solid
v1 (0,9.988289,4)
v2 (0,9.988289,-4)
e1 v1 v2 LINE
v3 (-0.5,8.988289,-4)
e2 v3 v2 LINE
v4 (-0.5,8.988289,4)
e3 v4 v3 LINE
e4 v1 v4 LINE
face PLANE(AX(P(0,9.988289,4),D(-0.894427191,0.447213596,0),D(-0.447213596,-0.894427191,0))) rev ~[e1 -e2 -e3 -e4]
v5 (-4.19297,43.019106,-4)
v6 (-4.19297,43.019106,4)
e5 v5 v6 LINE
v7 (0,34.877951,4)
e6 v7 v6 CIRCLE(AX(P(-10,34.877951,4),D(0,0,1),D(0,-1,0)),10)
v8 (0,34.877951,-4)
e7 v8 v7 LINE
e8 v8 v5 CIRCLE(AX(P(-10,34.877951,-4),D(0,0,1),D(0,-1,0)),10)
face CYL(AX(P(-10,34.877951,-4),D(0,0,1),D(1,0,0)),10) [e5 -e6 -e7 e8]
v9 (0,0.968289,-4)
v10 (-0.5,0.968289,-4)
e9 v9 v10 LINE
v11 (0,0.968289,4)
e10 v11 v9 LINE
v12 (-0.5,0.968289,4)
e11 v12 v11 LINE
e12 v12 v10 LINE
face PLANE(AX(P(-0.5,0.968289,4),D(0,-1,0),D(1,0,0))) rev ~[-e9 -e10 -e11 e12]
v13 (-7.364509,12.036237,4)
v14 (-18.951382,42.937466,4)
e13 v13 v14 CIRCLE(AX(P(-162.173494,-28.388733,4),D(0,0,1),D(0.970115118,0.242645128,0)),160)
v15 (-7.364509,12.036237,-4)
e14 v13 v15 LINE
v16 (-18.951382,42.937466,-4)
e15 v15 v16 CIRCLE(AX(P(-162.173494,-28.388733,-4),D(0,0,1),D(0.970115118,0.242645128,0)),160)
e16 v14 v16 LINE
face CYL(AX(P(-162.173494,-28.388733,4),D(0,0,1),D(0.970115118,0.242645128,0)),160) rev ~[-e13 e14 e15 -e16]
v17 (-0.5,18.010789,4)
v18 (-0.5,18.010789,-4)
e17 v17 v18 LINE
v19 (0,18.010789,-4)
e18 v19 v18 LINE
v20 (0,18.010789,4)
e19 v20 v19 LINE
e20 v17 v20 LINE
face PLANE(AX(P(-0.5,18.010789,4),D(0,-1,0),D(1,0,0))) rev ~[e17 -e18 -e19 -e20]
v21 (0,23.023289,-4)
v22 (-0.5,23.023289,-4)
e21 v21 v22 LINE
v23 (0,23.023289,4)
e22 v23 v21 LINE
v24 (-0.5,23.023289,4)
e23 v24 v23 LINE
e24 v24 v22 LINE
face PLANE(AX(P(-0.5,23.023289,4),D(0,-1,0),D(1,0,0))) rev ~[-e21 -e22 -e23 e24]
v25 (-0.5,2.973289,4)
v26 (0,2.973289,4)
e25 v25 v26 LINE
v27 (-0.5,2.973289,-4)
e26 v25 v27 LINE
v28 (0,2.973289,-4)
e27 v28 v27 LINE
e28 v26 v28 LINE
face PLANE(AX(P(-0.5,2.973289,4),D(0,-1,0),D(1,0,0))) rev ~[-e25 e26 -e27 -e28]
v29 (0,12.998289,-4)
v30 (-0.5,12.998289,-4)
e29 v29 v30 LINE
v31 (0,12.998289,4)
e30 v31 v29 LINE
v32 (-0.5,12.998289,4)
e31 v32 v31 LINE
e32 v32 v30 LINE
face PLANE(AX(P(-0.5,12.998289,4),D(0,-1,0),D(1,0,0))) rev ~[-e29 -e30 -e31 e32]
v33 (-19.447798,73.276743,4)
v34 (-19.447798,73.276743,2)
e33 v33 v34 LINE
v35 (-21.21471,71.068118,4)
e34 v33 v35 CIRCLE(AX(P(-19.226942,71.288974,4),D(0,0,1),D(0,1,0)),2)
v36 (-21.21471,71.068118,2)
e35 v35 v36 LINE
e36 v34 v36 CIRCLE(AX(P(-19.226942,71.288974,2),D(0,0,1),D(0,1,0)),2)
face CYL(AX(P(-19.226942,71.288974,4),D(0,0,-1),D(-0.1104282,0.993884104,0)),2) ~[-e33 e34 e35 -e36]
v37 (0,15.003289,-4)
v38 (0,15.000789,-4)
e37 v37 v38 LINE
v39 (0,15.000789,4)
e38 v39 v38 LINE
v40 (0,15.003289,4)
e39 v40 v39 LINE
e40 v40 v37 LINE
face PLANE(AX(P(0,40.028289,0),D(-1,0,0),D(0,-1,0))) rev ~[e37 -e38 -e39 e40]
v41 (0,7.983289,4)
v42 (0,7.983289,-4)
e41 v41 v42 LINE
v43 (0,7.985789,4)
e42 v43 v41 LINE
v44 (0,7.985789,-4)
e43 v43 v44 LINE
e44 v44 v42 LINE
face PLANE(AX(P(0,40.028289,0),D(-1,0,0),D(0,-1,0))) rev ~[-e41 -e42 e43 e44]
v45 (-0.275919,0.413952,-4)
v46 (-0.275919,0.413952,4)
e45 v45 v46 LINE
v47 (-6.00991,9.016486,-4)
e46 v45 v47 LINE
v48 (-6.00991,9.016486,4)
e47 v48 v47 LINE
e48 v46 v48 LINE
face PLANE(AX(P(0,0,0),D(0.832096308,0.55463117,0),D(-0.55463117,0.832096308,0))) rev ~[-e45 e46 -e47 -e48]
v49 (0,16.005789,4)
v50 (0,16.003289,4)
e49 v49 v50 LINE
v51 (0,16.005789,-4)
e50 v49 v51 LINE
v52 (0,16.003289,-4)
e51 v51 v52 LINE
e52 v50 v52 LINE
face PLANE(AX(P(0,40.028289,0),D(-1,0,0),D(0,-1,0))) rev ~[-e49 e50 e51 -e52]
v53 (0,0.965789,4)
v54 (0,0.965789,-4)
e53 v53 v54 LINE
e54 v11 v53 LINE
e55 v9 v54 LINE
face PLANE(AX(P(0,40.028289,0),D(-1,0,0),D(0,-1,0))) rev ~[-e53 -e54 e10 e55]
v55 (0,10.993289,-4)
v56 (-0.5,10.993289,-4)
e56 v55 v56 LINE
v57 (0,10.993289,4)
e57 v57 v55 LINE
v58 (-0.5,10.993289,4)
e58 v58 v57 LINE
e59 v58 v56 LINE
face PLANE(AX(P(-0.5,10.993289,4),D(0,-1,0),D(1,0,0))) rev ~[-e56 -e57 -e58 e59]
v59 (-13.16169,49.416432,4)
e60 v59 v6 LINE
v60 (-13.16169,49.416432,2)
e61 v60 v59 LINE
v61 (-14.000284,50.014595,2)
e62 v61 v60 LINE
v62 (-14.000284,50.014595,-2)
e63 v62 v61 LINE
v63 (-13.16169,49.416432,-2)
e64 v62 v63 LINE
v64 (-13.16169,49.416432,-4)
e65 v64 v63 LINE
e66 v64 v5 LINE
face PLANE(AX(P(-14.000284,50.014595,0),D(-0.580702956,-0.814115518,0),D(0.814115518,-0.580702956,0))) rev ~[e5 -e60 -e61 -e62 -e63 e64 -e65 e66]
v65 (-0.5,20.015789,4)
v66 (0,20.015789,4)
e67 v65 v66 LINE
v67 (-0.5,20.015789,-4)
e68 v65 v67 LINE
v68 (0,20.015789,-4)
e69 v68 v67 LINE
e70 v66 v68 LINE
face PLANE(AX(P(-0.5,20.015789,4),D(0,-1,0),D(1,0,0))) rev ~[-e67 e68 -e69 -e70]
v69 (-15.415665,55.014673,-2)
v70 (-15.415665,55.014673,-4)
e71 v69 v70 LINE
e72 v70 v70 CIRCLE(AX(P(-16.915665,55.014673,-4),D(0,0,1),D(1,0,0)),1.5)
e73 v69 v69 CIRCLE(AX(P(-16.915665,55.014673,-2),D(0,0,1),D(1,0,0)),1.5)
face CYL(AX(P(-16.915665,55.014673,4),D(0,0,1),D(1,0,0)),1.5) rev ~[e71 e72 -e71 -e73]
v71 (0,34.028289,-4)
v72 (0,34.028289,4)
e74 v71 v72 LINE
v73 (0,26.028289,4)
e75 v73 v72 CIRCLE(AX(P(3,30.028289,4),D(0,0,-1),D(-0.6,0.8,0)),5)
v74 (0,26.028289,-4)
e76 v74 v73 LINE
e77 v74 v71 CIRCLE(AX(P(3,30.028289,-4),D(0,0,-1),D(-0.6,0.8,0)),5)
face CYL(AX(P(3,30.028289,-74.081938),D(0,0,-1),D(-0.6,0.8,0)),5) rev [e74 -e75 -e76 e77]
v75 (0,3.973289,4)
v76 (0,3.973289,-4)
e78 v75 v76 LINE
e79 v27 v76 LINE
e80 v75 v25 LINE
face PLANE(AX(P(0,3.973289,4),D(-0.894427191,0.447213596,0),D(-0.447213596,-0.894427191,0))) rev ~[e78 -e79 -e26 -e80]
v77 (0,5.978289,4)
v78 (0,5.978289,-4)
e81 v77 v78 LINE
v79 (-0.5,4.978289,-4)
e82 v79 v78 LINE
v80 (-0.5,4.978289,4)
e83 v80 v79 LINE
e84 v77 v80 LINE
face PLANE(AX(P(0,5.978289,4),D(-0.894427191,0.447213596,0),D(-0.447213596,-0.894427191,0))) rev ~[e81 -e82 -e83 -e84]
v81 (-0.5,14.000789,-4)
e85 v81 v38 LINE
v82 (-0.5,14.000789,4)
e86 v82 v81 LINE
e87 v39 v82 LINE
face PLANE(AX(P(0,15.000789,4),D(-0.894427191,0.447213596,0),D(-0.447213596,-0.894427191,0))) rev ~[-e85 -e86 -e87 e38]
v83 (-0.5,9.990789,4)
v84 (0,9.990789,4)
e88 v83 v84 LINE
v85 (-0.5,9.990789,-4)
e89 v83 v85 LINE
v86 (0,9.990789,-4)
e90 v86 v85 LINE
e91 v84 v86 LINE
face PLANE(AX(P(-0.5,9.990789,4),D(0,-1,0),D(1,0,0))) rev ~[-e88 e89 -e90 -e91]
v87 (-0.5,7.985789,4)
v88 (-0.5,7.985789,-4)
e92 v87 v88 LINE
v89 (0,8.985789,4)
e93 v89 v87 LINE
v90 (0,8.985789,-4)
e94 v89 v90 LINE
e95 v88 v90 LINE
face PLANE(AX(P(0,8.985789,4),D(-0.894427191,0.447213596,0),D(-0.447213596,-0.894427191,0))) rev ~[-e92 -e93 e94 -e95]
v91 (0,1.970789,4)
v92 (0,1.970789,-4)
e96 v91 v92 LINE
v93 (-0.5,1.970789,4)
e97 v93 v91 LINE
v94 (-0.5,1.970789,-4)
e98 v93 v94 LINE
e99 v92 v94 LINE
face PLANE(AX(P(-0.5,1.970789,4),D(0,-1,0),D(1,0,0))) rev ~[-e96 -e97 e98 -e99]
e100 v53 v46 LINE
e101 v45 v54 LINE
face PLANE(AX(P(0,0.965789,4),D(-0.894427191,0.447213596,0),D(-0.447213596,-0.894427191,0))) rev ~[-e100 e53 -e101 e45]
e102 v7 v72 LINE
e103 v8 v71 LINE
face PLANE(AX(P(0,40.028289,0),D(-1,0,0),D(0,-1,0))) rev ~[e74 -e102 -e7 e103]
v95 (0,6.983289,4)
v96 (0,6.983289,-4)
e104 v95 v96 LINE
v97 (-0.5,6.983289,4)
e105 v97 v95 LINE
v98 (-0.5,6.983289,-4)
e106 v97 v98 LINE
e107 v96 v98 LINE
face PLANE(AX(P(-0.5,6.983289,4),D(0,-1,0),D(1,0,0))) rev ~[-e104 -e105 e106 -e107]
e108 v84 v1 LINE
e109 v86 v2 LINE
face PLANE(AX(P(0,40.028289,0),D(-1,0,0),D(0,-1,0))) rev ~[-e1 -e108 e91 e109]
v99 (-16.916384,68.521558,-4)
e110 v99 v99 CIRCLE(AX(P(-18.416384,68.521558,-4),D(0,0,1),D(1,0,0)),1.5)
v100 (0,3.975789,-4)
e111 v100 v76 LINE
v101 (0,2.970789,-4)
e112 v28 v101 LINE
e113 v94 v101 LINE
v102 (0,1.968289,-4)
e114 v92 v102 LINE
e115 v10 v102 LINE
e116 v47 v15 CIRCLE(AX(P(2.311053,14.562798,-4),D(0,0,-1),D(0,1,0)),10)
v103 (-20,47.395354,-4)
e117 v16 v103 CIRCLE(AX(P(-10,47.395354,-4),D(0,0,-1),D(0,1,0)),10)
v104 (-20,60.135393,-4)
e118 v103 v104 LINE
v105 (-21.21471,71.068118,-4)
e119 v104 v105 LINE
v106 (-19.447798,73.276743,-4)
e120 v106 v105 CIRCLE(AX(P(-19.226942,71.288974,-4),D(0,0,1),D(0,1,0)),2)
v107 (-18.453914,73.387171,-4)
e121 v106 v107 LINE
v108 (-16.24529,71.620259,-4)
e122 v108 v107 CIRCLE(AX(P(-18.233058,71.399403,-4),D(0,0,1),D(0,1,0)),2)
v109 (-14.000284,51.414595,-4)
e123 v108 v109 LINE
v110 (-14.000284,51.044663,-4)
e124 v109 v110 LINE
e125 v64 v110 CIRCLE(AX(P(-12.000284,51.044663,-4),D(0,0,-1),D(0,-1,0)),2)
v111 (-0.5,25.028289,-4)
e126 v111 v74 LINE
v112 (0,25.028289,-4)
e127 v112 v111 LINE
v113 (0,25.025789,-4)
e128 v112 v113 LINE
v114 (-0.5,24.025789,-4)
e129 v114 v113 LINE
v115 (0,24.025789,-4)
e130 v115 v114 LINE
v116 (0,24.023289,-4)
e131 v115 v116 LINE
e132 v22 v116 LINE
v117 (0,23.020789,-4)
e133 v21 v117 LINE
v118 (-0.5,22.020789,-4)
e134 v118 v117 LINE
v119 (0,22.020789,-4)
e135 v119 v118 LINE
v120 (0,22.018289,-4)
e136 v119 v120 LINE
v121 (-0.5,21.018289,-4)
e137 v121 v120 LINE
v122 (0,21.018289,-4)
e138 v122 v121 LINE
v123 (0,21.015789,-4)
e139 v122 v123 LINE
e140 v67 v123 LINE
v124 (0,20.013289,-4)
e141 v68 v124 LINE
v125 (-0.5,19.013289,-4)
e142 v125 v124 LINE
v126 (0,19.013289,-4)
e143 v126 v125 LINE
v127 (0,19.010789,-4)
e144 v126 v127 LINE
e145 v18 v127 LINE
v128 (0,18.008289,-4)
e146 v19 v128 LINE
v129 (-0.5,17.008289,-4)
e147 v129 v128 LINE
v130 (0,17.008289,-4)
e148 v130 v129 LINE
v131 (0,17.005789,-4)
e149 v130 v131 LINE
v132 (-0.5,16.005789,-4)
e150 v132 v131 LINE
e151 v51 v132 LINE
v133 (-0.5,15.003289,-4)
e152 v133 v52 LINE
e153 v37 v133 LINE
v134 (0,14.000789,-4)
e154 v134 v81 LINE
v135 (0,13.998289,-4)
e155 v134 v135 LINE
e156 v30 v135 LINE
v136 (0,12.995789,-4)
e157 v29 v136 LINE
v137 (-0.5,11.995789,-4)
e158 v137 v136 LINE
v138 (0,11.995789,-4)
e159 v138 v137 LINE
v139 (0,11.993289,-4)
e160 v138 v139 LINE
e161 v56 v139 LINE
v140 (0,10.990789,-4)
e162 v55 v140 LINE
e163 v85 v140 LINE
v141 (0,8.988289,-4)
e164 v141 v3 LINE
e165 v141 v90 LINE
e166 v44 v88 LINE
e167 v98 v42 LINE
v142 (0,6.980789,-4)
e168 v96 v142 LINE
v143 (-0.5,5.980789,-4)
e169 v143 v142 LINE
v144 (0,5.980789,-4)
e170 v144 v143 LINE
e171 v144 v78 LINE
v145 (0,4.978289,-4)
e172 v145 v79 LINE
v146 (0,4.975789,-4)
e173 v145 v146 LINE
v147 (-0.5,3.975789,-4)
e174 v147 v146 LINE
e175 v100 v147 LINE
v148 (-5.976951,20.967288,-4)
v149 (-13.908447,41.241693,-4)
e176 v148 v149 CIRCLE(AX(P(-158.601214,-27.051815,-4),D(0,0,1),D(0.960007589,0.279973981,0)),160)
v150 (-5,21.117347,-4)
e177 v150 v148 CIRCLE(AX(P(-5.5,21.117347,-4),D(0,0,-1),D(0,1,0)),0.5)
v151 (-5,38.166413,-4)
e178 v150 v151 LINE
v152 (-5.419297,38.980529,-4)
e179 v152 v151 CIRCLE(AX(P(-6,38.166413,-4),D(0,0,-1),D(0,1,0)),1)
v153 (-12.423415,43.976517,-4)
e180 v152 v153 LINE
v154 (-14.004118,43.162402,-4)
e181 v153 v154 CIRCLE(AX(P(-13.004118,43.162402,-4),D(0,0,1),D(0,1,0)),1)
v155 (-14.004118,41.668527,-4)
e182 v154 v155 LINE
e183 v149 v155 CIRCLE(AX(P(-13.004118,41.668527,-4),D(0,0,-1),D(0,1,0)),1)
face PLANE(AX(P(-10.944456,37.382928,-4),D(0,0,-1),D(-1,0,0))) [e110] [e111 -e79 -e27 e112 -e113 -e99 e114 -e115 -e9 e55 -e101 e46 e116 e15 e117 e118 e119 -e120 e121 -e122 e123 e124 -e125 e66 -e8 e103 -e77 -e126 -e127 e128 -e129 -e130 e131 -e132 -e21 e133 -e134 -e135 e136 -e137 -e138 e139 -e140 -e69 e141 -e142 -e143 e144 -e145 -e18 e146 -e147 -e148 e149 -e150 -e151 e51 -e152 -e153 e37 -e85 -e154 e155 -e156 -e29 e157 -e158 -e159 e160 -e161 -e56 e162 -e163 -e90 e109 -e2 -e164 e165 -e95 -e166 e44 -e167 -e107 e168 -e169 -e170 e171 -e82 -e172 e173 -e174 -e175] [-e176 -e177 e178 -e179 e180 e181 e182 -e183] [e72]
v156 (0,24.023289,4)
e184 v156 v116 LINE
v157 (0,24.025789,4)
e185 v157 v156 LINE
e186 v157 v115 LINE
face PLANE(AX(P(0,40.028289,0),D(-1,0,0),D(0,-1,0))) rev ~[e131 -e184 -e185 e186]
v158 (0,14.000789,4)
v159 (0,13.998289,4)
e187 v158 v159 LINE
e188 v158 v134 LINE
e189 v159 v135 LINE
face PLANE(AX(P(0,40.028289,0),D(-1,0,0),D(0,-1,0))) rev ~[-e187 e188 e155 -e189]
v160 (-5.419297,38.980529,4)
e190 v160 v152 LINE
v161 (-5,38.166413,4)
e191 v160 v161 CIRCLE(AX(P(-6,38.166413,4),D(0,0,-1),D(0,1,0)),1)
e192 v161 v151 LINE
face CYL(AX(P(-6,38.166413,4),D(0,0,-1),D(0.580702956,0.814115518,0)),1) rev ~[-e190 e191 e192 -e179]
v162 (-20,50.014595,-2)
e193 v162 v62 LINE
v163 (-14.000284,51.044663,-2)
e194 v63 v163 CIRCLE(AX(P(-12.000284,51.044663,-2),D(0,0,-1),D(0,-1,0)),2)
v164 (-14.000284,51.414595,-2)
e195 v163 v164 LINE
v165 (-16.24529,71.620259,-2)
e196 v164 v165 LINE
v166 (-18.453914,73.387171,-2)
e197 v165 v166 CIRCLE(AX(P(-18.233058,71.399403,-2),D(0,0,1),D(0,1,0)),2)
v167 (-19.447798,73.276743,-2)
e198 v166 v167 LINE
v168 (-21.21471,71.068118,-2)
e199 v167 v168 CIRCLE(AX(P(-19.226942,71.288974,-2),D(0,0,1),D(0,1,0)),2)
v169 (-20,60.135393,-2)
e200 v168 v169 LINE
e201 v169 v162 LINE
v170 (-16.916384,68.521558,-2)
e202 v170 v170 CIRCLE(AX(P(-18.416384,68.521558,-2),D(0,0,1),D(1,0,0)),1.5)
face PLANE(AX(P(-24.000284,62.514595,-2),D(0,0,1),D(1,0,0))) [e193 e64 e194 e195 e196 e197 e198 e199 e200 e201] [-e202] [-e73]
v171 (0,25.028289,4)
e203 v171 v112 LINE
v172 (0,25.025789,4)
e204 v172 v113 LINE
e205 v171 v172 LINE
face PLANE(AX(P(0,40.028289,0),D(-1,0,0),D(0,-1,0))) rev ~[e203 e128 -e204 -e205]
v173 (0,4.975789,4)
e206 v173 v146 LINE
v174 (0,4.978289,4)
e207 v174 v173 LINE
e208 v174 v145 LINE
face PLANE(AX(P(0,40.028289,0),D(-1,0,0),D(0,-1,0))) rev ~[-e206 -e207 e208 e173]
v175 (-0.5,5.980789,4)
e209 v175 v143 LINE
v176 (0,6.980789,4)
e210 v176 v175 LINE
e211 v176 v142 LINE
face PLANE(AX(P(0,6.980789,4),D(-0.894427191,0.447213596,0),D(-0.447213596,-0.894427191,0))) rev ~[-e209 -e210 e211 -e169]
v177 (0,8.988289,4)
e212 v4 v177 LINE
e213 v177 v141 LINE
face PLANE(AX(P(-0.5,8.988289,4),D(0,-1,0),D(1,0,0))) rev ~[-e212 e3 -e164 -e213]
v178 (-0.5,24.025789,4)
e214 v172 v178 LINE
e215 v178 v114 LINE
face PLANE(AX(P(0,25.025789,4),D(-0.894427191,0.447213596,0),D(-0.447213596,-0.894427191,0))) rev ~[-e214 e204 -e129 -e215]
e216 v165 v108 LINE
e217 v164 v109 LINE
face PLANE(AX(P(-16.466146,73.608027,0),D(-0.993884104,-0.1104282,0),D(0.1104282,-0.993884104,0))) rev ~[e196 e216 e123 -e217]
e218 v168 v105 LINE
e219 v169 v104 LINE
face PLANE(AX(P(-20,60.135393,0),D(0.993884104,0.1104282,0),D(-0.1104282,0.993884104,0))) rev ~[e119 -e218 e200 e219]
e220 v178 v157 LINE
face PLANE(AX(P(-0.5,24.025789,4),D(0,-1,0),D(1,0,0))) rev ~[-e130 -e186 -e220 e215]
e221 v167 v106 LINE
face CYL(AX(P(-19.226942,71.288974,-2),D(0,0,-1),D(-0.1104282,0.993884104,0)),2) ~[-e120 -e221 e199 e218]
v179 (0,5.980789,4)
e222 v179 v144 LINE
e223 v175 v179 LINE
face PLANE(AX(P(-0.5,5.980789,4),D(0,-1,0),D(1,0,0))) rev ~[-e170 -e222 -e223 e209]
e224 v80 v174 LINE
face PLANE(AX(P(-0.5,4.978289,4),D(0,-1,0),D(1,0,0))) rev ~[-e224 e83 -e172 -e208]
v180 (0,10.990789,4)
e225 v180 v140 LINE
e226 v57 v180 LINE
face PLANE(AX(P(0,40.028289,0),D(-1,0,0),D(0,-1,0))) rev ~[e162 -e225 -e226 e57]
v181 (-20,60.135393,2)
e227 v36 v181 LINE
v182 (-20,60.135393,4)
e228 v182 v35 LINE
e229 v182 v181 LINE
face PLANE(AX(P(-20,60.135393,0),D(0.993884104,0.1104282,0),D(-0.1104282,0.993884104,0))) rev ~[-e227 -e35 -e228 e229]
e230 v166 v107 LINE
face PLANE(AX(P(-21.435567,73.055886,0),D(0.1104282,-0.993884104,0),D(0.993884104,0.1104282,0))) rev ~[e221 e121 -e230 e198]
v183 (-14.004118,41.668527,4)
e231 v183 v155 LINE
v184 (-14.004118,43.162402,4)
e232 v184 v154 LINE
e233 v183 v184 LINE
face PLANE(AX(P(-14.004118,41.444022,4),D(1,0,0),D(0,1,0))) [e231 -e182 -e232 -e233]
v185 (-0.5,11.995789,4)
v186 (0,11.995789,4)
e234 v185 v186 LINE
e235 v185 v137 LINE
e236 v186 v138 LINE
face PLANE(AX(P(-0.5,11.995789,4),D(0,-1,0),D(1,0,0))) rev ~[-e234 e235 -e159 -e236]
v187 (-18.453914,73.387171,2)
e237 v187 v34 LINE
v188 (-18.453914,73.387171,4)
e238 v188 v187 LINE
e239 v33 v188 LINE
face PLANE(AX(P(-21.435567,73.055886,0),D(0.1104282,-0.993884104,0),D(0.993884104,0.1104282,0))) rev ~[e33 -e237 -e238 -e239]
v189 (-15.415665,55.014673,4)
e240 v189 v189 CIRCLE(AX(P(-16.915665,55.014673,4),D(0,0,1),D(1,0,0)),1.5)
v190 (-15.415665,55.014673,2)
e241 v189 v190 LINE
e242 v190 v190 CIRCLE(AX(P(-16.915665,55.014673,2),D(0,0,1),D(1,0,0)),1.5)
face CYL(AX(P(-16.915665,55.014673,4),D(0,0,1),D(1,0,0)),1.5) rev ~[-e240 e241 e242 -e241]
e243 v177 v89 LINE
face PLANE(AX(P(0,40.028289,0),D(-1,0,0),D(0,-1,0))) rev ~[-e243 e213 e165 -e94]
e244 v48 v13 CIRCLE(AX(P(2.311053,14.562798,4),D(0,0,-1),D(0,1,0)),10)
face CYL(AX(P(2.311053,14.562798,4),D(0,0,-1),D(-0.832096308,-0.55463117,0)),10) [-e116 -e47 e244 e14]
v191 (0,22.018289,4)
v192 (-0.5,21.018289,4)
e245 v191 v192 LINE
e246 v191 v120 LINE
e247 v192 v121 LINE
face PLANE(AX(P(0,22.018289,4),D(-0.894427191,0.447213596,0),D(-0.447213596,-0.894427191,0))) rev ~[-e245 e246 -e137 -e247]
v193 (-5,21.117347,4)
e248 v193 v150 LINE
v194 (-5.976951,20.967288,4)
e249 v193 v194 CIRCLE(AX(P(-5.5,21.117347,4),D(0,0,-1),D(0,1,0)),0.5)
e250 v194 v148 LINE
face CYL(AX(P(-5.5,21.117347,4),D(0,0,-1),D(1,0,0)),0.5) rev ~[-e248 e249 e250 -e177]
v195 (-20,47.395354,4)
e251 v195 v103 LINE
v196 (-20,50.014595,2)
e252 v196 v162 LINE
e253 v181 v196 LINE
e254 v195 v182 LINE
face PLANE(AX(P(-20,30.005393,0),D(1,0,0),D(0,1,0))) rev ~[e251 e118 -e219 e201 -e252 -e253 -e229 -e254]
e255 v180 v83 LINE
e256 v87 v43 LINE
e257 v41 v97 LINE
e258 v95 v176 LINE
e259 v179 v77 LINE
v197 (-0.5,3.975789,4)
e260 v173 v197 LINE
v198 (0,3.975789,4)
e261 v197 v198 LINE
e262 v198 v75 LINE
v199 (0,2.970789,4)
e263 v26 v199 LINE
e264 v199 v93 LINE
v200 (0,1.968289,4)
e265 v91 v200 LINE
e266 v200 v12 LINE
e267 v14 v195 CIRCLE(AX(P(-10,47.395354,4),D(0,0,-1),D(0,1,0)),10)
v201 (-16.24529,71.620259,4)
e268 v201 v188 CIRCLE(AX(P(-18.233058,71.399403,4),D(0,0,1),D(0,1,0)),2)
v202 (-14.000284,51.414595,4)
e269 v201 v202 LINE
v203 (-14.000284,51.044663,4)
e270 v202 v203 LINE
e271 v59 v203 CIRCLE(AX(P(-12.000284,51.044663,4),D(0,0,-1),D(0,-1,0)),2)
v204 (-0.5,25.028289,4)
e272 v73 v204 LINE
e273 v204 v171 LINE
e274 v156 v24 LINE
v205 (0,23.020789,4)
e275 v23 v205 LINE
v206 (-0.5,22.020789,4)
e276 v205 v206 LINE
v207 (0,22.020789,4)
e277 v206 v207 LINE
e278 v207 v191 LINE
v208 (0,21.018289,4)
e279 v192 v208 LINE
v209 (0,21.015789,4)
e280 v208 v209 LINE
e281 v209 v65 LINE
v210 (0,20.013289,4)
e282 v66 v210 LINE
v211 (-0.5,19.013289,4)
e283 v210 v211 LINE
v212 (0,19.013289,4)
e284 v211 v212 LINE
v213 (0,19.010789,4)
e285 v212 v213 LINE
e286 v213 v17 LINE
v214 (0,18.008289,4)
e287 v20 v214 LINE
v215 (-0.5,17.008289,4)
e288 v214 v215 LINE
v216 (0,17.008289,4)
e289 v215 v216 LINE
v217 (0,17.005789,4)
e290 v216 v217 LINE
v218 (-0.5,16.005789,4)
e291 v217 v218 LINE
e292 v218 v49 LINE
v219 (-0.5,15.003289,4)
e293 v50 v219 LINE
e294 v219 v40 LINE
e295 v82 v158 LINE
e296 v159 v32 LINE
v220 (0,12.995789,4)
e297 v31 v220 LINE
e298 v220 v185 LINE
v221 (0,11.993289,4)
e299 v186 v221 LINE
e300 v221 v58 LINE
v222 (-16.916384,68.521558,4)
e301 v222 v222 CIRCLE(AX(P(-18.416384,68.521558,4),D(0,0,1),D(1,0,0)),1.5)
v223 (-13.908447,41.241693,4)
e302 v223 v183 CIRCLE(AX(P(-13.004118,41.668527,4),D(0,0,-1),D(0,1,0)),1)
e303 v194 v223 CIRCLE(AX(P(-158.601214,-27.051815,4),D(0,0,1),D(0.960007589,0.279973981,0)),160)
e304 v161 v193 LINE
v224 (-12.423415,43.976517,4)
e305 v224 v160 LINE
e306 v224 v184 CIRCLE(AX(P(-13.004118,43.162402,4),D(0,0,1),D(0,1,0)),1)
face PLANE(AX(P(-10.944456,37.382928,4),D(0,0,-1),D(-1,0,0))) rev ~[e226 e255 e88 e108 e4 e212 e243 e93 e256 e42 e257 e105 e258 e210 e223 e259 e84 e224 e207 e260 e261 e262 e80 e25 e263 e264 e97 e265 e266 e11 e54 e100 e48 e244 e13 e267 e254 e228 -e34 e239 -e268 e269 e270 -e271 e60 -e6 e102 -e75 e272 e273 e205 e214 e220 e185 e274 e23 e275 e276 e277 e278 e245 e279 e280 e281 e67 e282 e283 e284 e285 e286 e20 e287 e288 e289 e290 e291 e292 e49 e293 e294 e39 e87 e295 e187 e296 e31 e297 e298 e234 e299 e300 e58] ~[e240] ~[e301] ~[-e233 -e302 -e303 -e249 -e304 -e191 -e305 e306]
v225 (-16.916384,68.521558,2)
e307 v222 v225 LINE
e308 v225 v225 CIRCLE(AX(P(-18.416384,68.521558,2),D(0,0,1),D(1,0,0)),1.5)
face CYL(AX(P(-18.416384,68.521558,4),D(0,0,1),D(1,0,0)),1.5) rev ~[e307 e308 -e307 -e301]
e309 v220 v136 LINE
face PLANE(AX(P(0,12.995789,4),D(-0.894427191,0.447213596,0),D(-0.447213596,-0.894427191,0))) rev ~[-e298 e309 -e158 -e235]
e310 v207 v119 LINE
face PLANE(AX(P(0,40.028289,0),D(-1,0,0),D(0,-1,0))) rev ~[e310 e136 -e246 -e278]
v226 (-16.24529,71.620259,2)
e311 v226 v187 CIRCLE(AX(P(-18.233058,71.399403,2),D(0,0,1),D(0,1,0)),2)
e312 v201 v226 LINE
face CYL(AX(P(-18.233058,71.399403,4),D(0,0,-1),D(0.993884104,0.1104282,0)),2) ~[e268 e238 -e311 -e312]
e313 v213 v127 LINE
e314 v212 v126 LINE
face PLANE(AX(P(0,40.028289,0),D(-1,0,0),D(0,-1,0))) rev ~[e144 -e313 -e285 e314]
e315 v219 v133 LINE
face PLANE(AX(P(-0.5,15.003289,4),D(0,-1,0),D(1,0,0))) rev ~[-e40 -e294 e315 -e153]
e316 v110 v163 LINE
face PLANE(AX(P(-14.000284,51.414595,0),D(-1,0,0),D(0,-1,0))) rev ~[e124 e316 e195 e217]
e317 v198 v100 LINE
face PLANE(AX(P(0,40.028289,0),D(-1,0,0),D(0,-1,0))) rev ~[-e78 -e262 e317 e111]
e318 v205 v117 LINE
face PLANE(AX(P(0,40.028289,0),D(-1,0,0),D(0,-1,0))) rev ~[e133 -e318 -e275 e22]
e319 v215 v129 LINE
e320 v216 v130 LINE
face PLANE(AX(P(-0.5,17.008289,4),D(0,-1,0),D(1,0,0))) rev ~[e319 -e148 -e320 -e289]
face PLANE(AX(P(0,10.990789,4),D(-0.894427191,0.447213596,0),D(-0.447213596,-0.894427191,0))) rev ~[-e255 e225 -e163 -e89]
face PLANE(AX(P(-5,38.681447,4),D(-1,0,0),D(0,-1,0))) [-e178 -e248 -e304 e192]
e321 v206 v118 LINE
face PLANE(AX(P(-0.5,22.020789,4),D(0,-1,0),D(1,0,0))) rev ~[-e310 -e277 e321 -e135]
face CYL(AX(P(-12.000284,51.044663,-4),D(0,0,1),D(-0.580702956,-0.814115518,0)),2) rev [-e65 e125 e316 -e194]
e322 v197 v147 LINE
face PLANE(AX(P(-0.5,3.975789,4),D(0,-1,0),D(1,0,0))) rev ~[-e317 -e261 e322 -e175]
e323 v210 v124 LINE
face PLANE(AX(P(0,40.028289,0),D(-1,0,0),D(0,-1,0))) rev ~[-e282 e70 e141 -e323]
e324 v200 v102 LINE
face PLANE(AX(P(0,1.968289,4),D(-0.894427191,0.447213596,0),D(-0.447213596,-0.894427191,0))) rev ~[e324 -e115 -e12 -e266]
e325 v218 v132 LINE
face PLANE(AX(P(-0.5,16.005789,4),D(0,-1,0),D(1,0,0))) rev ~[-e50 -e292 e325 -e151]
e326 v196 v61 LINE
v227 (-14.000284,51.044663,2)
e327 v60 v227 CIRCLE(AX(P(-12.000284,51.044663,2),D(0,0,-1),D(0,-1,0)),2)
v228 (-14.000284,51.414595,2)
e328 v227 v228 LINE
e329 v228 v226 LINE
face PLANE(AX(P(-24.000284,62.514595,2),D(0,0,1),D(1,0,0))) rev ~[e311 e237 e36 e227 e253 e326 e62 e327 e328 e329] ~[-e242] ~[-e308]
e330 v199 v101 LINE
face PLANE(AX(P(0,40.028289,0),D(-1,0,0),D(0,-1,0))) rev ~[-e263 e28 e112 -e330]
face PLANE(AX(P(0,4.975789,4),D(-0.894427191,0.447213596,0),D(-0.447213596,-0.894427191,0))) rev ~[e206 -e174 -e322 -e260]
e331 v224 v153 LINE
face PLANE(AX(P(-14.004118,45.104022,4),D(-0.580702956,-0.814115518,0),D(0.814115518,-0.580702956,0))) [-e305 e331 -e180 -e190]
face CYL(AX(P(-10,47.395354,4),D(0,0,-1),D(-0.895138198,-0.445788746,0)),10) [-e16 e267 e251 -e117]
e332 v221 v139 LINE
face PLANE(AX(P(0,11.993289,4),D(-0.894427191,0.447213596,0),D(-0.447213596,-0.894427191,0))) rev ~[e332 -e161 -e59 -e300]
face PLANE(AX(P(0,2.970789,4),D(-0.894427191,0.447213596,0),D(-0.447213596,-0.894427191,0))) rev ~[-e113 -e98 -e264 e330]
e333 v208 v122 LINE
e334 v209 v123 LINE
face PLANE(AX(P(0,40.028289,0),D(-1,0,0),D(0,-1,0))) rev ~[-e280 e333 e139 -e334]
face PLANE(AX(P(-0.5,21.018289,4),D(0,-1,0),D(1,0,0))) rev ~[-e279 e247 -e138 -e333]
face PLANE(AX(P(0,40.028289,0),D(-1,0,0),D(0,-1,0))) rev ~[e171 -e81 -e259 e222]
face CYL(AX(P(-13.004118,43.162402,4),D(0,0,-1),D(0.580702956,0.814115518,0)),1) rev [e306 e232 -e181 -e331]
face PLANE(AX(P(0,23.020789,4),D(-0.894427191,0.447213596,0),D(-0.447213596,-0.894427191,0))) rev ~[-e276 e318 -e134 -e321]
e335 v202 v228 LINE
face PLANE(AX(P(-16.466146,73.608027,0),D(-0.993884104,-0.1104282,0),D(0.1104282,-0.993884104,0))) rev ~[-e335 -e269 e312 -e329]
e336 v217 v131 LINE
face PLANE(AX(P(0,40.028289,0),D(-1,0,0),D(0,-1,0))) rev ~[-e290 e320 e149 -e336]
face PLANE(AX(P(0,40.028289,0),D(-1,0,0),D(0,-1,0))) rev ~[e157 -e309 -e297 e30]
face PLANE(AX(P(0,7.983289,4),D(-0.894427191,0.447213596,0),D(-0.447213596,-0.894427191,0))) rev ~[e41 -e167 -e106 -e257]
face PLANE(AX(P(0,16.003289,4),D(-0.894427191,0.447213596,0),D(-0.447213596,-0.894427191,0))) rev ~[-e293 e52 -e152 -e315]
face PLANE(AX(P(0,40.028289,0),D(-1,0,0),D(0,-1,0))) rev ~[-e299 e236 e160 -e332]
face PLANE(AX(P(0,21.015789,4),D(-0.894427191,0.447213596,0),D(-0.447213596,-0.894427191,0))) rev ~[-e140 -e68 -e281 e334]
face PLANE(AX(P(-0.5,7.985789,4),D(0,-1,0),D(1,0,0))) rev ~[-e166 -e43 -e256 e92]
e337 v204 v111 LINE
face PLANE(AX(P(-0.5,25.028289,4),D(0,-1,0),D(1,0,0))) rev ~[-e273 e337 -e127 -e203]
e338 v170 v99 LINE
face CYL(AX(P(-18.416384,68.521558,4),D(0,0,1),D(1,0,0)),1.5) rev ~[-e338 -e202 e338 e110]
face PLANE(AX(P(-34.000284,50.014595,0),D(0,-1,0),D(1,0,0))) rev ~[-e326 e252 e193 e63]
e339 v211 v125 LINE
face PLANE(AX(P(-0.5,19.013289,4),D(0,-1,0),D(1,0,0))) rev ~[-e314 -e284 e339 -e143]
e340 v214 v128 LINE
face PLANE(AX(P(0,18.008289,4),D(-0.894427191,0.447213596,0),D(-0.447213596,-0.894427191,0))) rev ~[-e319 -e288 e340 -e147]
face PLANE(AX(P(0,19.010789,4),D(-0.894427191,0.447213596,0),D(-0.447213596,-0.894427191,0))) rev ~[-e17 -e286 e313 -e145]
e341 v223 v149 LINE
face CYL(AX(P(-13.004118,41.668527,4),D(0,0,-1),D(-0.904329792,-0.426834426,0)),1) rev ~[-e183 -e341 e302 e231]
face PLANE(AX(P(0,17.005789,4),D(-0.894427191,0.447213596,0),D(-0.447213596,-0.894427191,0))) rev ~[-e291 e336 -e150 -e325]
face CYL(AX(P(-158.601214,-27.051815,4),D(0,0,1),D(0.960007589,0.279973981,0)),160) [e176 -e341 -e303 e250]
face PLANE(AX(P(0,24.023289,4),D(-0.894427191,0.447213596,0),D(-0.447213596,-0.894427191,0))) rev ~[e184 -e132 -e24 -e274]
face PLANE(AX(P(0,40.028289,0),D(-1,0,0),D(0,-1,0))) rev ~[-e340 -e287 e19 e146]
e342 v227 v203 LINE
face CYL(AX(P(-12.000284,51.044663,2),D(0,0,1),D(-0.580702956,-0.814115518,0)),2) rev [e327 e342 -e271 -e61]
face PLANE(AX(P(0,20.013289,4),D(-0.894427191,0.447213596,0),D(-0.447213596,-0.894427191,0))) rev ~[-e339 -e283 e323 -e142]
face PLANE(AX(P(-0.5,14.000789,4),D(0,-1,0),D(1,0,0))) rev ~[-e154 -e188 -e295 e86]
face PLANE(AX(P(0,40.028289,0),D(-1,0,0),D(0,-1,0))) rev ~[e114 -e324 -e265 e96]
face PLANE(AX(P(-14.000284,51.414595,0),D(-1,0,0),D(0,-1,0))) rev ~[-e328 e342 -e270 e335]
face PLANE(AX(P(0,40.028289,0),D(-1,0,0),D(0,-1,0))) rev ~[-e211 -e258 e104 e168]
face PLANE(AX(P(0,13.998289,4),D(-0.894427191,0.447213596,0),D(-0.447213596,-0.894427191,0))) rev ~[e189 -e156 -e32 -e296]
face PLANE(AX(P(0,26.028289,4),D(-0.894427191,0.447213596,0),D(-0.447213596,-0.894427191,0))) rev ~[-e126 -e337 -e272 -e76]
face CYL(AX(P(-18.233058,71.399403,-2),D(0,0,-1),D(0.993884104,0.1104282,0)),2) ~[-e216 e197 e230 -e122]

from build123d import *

# Parameters (mm, degrees)
BOSS_EXTRUDE1_DEPTH     = 4
SKETCH3_W               = 20
SKETCH3_H               = 25
CUT_EXTRUDE1_DEPTH      = 2
CUT_EXTRUDE2_DEPTH      = 78.081938119
CUT_EXTRUDE2_DEPTH_BACK = 78.081938119
CUT_EXTRUDE3_DEPTH      = 78.081938119
LPATTERN1_COUNT         = 26
LPATTERN1_PITCH         = 1.0025
CUT_EXTRUDE4_DEPTH      = 78.081938119
CUT_EXTRUDE5_DEPTH      = 78.081938119
FILLET1_R               = 10
FILLET2_R               = 2
FILLET3_R               = 1
FILLET4_R               = 0.5
SKETCH9_R               = 1.5
CUT_EXTRUDE6_DEPTH      = 77.824835617


with BuildPart() as part:
    # Sketch1 → Boss-Extrude1 (new, symmetric)
    with BuildSketch(Plane.XY):
        Polygon((0, 0), (-20, 30.005392849), (-20, 60.135392849), (-21.435566599, 73.055886204), (-16.466146078, 73.608027203), (-14.000284373, 51.414595156), (-14.000284373, 50.014595156), (0, 40.028289364), align=None)
    extrude(amount=BOSS_EXTRUDE1_DEPTH, both=True)

    # Sketch3 → Cut-Extrude1 (cut, symmetric)
    with BuildSketch(Plane.XY):
        with Locations((-24.000284373, 62.514595156)):
            Rectangle(SKETCH3_W, SKETCH3_H)
    extrude(amount=CUT_EXTRUDE1_DEPTH, both=True, mode=Mode.SUBTRACT)

    # Sketch5 → Cut-Extrude2 (cut, two sides: drawn at the far end of the back side and taken through both)
    with BuildSketch(Plane.XY.offset(4).offset(-CUT_EXTRUDE2_DEPTH_BACK)):
        with BuildLine():
            Line((91.496624596, 102.650757811), (0, 34.028289364))
            ThreePointArc((0, 34.028289364), (-2, 30.028289364), (0, 26.028289364))
            Line((0, 26.028289364), (91.496624596, -42.594179083))
            Line((91.496624596, -42.594179083), (320.238186086, -42.594179083))
            Line((320.238186086, -42.594179083), (320.238186086, 102.650757811))
            Line((320.238186086, 102.650757811), (91.496624596, 102.650757811))
        make_face()
    extrude(amount=CUT_EXTRUDE2_DEPTH + CUT_EXTRUDE2_DEPTH_BACK, mode=Mode.SUBTRACT)

    # Sketch6 → Cut-Extrude3 (cut, through all)
    with BuildSketch(Plane.XY.offset(4)):
        Polygon((0, 26.028289364), (-0.5, 25.028289364), (0, 25.028289364), align=None)
    cut_extrude3 = extrude(amount=-CUT_EXTRUDE3_DEPTH, mode=Mode.SUBTRACT)

    # LPattern1: Cut-Extrude3 ×26
    with Locations(*[(0, -i * LPATTERN1_PITCH, 0) for i in range(1, LPATTERN1_COUNT)]):
        add(cut_extrude3, mode=Mode.SUBTRACT)

    # Sketch7 → Cut-Extrude4 (cut, through all)
    with BuildSketch(Plane.XY.offset(4)):
        with BuildLine():
            Line((-20, 45.005392849), (-20, 30.005392849))
            Line((-20, 30.005392849), (-6.955074875, 10.434487696))
            ThreePointArc((-6.955074875, 10.434487696), (-12.476218242, 28.097776313), (-20, 45.005392849))
        make_face()
    extrude(amount=-CUT_EXTRUDE4_DEPTH, mode=Mode.SUBTRACT)

    # Sketch8 → Cut-Extrude5 (cut, through all)
    with BuildSketch(Plane.XY.offset(4)):
        with BuildLine():
            Line((-14.004117633, 45.104021749), (-5, 38.681447059))
            Line((-5, 38.681447059), (-5, 17.744021749))
            ThreePointArc((-5, 17.744021749), (-9.031897039, 29.772645882), (-14.004117633, 41.444021749))
            Line((-14.004117633, 41.444021749), (-14.004117633, 45.104021749))
        make_face()
    extrude(amount=-CUT_EXTRUDE5_DEPTH, mode=Mode.SUBTRACT)

    # Fillet1
    fillet1_edges = [part.edges().sort_by_distance(p)[0] for p in [
        (0, 40.028289364, 0),
        (-20, 45.005392849, 0),
        (-6.955074875, 10.434487696, 0),
    ]]
    fillet(fillet1_edges, radius=FILLET1_R)

    # Fillet2
    fillet2_edges = [part.edges().sort_by_distance(p)[0] for p in [
        (-21.435566599, 73.055886204, 3),
        (-16.466146078, 73.608027203, 3),
        (-14.000284373, 50.014595156, 3),
        (-21.435566599, 73.055886204, -3),
        (-16.466146078, 73.608027203, -3),
        (-14.000284373, 50.014595156, -3),
    ]]
    fillet(fillet2_edges, radius=FILLET2_R)

    # Fillet3
    fillet3_edges = [part.edges().sort_by_distance(p)[0] for p in [
        (-14.004117633, 41.444021749, 0),
        (-14.004117633, 45.104021749, 0),
        (-5, 38.681447059, 0),
    ]]
    fillet(fillet3_edges, radius=FILLET3_R)

    # Fillet4
    fillet4_edges = [part.edges().sort_by_distance(p)[0] for p in [
        (-5, 17.744021749, 0),
    ]]
    fillet(fillet4_edges, radius=FILLET4_R)

    # Sketch9 → Cut-Extrude6 (cut, through all)
    with BuildSketch(Plane.XY.offset(4)):
        with Locations((-18.416383851, 68.521557639)):
            Circle(SKETCH9_R)
        with Locations((-16.915664614, 55.014672662)):
            Circle(SKETCH9_R)
    extrude(amount=-CUT_EXTRUDE6_DEPTH, mode=Mode.SUBTRACT)


solid = part.part
